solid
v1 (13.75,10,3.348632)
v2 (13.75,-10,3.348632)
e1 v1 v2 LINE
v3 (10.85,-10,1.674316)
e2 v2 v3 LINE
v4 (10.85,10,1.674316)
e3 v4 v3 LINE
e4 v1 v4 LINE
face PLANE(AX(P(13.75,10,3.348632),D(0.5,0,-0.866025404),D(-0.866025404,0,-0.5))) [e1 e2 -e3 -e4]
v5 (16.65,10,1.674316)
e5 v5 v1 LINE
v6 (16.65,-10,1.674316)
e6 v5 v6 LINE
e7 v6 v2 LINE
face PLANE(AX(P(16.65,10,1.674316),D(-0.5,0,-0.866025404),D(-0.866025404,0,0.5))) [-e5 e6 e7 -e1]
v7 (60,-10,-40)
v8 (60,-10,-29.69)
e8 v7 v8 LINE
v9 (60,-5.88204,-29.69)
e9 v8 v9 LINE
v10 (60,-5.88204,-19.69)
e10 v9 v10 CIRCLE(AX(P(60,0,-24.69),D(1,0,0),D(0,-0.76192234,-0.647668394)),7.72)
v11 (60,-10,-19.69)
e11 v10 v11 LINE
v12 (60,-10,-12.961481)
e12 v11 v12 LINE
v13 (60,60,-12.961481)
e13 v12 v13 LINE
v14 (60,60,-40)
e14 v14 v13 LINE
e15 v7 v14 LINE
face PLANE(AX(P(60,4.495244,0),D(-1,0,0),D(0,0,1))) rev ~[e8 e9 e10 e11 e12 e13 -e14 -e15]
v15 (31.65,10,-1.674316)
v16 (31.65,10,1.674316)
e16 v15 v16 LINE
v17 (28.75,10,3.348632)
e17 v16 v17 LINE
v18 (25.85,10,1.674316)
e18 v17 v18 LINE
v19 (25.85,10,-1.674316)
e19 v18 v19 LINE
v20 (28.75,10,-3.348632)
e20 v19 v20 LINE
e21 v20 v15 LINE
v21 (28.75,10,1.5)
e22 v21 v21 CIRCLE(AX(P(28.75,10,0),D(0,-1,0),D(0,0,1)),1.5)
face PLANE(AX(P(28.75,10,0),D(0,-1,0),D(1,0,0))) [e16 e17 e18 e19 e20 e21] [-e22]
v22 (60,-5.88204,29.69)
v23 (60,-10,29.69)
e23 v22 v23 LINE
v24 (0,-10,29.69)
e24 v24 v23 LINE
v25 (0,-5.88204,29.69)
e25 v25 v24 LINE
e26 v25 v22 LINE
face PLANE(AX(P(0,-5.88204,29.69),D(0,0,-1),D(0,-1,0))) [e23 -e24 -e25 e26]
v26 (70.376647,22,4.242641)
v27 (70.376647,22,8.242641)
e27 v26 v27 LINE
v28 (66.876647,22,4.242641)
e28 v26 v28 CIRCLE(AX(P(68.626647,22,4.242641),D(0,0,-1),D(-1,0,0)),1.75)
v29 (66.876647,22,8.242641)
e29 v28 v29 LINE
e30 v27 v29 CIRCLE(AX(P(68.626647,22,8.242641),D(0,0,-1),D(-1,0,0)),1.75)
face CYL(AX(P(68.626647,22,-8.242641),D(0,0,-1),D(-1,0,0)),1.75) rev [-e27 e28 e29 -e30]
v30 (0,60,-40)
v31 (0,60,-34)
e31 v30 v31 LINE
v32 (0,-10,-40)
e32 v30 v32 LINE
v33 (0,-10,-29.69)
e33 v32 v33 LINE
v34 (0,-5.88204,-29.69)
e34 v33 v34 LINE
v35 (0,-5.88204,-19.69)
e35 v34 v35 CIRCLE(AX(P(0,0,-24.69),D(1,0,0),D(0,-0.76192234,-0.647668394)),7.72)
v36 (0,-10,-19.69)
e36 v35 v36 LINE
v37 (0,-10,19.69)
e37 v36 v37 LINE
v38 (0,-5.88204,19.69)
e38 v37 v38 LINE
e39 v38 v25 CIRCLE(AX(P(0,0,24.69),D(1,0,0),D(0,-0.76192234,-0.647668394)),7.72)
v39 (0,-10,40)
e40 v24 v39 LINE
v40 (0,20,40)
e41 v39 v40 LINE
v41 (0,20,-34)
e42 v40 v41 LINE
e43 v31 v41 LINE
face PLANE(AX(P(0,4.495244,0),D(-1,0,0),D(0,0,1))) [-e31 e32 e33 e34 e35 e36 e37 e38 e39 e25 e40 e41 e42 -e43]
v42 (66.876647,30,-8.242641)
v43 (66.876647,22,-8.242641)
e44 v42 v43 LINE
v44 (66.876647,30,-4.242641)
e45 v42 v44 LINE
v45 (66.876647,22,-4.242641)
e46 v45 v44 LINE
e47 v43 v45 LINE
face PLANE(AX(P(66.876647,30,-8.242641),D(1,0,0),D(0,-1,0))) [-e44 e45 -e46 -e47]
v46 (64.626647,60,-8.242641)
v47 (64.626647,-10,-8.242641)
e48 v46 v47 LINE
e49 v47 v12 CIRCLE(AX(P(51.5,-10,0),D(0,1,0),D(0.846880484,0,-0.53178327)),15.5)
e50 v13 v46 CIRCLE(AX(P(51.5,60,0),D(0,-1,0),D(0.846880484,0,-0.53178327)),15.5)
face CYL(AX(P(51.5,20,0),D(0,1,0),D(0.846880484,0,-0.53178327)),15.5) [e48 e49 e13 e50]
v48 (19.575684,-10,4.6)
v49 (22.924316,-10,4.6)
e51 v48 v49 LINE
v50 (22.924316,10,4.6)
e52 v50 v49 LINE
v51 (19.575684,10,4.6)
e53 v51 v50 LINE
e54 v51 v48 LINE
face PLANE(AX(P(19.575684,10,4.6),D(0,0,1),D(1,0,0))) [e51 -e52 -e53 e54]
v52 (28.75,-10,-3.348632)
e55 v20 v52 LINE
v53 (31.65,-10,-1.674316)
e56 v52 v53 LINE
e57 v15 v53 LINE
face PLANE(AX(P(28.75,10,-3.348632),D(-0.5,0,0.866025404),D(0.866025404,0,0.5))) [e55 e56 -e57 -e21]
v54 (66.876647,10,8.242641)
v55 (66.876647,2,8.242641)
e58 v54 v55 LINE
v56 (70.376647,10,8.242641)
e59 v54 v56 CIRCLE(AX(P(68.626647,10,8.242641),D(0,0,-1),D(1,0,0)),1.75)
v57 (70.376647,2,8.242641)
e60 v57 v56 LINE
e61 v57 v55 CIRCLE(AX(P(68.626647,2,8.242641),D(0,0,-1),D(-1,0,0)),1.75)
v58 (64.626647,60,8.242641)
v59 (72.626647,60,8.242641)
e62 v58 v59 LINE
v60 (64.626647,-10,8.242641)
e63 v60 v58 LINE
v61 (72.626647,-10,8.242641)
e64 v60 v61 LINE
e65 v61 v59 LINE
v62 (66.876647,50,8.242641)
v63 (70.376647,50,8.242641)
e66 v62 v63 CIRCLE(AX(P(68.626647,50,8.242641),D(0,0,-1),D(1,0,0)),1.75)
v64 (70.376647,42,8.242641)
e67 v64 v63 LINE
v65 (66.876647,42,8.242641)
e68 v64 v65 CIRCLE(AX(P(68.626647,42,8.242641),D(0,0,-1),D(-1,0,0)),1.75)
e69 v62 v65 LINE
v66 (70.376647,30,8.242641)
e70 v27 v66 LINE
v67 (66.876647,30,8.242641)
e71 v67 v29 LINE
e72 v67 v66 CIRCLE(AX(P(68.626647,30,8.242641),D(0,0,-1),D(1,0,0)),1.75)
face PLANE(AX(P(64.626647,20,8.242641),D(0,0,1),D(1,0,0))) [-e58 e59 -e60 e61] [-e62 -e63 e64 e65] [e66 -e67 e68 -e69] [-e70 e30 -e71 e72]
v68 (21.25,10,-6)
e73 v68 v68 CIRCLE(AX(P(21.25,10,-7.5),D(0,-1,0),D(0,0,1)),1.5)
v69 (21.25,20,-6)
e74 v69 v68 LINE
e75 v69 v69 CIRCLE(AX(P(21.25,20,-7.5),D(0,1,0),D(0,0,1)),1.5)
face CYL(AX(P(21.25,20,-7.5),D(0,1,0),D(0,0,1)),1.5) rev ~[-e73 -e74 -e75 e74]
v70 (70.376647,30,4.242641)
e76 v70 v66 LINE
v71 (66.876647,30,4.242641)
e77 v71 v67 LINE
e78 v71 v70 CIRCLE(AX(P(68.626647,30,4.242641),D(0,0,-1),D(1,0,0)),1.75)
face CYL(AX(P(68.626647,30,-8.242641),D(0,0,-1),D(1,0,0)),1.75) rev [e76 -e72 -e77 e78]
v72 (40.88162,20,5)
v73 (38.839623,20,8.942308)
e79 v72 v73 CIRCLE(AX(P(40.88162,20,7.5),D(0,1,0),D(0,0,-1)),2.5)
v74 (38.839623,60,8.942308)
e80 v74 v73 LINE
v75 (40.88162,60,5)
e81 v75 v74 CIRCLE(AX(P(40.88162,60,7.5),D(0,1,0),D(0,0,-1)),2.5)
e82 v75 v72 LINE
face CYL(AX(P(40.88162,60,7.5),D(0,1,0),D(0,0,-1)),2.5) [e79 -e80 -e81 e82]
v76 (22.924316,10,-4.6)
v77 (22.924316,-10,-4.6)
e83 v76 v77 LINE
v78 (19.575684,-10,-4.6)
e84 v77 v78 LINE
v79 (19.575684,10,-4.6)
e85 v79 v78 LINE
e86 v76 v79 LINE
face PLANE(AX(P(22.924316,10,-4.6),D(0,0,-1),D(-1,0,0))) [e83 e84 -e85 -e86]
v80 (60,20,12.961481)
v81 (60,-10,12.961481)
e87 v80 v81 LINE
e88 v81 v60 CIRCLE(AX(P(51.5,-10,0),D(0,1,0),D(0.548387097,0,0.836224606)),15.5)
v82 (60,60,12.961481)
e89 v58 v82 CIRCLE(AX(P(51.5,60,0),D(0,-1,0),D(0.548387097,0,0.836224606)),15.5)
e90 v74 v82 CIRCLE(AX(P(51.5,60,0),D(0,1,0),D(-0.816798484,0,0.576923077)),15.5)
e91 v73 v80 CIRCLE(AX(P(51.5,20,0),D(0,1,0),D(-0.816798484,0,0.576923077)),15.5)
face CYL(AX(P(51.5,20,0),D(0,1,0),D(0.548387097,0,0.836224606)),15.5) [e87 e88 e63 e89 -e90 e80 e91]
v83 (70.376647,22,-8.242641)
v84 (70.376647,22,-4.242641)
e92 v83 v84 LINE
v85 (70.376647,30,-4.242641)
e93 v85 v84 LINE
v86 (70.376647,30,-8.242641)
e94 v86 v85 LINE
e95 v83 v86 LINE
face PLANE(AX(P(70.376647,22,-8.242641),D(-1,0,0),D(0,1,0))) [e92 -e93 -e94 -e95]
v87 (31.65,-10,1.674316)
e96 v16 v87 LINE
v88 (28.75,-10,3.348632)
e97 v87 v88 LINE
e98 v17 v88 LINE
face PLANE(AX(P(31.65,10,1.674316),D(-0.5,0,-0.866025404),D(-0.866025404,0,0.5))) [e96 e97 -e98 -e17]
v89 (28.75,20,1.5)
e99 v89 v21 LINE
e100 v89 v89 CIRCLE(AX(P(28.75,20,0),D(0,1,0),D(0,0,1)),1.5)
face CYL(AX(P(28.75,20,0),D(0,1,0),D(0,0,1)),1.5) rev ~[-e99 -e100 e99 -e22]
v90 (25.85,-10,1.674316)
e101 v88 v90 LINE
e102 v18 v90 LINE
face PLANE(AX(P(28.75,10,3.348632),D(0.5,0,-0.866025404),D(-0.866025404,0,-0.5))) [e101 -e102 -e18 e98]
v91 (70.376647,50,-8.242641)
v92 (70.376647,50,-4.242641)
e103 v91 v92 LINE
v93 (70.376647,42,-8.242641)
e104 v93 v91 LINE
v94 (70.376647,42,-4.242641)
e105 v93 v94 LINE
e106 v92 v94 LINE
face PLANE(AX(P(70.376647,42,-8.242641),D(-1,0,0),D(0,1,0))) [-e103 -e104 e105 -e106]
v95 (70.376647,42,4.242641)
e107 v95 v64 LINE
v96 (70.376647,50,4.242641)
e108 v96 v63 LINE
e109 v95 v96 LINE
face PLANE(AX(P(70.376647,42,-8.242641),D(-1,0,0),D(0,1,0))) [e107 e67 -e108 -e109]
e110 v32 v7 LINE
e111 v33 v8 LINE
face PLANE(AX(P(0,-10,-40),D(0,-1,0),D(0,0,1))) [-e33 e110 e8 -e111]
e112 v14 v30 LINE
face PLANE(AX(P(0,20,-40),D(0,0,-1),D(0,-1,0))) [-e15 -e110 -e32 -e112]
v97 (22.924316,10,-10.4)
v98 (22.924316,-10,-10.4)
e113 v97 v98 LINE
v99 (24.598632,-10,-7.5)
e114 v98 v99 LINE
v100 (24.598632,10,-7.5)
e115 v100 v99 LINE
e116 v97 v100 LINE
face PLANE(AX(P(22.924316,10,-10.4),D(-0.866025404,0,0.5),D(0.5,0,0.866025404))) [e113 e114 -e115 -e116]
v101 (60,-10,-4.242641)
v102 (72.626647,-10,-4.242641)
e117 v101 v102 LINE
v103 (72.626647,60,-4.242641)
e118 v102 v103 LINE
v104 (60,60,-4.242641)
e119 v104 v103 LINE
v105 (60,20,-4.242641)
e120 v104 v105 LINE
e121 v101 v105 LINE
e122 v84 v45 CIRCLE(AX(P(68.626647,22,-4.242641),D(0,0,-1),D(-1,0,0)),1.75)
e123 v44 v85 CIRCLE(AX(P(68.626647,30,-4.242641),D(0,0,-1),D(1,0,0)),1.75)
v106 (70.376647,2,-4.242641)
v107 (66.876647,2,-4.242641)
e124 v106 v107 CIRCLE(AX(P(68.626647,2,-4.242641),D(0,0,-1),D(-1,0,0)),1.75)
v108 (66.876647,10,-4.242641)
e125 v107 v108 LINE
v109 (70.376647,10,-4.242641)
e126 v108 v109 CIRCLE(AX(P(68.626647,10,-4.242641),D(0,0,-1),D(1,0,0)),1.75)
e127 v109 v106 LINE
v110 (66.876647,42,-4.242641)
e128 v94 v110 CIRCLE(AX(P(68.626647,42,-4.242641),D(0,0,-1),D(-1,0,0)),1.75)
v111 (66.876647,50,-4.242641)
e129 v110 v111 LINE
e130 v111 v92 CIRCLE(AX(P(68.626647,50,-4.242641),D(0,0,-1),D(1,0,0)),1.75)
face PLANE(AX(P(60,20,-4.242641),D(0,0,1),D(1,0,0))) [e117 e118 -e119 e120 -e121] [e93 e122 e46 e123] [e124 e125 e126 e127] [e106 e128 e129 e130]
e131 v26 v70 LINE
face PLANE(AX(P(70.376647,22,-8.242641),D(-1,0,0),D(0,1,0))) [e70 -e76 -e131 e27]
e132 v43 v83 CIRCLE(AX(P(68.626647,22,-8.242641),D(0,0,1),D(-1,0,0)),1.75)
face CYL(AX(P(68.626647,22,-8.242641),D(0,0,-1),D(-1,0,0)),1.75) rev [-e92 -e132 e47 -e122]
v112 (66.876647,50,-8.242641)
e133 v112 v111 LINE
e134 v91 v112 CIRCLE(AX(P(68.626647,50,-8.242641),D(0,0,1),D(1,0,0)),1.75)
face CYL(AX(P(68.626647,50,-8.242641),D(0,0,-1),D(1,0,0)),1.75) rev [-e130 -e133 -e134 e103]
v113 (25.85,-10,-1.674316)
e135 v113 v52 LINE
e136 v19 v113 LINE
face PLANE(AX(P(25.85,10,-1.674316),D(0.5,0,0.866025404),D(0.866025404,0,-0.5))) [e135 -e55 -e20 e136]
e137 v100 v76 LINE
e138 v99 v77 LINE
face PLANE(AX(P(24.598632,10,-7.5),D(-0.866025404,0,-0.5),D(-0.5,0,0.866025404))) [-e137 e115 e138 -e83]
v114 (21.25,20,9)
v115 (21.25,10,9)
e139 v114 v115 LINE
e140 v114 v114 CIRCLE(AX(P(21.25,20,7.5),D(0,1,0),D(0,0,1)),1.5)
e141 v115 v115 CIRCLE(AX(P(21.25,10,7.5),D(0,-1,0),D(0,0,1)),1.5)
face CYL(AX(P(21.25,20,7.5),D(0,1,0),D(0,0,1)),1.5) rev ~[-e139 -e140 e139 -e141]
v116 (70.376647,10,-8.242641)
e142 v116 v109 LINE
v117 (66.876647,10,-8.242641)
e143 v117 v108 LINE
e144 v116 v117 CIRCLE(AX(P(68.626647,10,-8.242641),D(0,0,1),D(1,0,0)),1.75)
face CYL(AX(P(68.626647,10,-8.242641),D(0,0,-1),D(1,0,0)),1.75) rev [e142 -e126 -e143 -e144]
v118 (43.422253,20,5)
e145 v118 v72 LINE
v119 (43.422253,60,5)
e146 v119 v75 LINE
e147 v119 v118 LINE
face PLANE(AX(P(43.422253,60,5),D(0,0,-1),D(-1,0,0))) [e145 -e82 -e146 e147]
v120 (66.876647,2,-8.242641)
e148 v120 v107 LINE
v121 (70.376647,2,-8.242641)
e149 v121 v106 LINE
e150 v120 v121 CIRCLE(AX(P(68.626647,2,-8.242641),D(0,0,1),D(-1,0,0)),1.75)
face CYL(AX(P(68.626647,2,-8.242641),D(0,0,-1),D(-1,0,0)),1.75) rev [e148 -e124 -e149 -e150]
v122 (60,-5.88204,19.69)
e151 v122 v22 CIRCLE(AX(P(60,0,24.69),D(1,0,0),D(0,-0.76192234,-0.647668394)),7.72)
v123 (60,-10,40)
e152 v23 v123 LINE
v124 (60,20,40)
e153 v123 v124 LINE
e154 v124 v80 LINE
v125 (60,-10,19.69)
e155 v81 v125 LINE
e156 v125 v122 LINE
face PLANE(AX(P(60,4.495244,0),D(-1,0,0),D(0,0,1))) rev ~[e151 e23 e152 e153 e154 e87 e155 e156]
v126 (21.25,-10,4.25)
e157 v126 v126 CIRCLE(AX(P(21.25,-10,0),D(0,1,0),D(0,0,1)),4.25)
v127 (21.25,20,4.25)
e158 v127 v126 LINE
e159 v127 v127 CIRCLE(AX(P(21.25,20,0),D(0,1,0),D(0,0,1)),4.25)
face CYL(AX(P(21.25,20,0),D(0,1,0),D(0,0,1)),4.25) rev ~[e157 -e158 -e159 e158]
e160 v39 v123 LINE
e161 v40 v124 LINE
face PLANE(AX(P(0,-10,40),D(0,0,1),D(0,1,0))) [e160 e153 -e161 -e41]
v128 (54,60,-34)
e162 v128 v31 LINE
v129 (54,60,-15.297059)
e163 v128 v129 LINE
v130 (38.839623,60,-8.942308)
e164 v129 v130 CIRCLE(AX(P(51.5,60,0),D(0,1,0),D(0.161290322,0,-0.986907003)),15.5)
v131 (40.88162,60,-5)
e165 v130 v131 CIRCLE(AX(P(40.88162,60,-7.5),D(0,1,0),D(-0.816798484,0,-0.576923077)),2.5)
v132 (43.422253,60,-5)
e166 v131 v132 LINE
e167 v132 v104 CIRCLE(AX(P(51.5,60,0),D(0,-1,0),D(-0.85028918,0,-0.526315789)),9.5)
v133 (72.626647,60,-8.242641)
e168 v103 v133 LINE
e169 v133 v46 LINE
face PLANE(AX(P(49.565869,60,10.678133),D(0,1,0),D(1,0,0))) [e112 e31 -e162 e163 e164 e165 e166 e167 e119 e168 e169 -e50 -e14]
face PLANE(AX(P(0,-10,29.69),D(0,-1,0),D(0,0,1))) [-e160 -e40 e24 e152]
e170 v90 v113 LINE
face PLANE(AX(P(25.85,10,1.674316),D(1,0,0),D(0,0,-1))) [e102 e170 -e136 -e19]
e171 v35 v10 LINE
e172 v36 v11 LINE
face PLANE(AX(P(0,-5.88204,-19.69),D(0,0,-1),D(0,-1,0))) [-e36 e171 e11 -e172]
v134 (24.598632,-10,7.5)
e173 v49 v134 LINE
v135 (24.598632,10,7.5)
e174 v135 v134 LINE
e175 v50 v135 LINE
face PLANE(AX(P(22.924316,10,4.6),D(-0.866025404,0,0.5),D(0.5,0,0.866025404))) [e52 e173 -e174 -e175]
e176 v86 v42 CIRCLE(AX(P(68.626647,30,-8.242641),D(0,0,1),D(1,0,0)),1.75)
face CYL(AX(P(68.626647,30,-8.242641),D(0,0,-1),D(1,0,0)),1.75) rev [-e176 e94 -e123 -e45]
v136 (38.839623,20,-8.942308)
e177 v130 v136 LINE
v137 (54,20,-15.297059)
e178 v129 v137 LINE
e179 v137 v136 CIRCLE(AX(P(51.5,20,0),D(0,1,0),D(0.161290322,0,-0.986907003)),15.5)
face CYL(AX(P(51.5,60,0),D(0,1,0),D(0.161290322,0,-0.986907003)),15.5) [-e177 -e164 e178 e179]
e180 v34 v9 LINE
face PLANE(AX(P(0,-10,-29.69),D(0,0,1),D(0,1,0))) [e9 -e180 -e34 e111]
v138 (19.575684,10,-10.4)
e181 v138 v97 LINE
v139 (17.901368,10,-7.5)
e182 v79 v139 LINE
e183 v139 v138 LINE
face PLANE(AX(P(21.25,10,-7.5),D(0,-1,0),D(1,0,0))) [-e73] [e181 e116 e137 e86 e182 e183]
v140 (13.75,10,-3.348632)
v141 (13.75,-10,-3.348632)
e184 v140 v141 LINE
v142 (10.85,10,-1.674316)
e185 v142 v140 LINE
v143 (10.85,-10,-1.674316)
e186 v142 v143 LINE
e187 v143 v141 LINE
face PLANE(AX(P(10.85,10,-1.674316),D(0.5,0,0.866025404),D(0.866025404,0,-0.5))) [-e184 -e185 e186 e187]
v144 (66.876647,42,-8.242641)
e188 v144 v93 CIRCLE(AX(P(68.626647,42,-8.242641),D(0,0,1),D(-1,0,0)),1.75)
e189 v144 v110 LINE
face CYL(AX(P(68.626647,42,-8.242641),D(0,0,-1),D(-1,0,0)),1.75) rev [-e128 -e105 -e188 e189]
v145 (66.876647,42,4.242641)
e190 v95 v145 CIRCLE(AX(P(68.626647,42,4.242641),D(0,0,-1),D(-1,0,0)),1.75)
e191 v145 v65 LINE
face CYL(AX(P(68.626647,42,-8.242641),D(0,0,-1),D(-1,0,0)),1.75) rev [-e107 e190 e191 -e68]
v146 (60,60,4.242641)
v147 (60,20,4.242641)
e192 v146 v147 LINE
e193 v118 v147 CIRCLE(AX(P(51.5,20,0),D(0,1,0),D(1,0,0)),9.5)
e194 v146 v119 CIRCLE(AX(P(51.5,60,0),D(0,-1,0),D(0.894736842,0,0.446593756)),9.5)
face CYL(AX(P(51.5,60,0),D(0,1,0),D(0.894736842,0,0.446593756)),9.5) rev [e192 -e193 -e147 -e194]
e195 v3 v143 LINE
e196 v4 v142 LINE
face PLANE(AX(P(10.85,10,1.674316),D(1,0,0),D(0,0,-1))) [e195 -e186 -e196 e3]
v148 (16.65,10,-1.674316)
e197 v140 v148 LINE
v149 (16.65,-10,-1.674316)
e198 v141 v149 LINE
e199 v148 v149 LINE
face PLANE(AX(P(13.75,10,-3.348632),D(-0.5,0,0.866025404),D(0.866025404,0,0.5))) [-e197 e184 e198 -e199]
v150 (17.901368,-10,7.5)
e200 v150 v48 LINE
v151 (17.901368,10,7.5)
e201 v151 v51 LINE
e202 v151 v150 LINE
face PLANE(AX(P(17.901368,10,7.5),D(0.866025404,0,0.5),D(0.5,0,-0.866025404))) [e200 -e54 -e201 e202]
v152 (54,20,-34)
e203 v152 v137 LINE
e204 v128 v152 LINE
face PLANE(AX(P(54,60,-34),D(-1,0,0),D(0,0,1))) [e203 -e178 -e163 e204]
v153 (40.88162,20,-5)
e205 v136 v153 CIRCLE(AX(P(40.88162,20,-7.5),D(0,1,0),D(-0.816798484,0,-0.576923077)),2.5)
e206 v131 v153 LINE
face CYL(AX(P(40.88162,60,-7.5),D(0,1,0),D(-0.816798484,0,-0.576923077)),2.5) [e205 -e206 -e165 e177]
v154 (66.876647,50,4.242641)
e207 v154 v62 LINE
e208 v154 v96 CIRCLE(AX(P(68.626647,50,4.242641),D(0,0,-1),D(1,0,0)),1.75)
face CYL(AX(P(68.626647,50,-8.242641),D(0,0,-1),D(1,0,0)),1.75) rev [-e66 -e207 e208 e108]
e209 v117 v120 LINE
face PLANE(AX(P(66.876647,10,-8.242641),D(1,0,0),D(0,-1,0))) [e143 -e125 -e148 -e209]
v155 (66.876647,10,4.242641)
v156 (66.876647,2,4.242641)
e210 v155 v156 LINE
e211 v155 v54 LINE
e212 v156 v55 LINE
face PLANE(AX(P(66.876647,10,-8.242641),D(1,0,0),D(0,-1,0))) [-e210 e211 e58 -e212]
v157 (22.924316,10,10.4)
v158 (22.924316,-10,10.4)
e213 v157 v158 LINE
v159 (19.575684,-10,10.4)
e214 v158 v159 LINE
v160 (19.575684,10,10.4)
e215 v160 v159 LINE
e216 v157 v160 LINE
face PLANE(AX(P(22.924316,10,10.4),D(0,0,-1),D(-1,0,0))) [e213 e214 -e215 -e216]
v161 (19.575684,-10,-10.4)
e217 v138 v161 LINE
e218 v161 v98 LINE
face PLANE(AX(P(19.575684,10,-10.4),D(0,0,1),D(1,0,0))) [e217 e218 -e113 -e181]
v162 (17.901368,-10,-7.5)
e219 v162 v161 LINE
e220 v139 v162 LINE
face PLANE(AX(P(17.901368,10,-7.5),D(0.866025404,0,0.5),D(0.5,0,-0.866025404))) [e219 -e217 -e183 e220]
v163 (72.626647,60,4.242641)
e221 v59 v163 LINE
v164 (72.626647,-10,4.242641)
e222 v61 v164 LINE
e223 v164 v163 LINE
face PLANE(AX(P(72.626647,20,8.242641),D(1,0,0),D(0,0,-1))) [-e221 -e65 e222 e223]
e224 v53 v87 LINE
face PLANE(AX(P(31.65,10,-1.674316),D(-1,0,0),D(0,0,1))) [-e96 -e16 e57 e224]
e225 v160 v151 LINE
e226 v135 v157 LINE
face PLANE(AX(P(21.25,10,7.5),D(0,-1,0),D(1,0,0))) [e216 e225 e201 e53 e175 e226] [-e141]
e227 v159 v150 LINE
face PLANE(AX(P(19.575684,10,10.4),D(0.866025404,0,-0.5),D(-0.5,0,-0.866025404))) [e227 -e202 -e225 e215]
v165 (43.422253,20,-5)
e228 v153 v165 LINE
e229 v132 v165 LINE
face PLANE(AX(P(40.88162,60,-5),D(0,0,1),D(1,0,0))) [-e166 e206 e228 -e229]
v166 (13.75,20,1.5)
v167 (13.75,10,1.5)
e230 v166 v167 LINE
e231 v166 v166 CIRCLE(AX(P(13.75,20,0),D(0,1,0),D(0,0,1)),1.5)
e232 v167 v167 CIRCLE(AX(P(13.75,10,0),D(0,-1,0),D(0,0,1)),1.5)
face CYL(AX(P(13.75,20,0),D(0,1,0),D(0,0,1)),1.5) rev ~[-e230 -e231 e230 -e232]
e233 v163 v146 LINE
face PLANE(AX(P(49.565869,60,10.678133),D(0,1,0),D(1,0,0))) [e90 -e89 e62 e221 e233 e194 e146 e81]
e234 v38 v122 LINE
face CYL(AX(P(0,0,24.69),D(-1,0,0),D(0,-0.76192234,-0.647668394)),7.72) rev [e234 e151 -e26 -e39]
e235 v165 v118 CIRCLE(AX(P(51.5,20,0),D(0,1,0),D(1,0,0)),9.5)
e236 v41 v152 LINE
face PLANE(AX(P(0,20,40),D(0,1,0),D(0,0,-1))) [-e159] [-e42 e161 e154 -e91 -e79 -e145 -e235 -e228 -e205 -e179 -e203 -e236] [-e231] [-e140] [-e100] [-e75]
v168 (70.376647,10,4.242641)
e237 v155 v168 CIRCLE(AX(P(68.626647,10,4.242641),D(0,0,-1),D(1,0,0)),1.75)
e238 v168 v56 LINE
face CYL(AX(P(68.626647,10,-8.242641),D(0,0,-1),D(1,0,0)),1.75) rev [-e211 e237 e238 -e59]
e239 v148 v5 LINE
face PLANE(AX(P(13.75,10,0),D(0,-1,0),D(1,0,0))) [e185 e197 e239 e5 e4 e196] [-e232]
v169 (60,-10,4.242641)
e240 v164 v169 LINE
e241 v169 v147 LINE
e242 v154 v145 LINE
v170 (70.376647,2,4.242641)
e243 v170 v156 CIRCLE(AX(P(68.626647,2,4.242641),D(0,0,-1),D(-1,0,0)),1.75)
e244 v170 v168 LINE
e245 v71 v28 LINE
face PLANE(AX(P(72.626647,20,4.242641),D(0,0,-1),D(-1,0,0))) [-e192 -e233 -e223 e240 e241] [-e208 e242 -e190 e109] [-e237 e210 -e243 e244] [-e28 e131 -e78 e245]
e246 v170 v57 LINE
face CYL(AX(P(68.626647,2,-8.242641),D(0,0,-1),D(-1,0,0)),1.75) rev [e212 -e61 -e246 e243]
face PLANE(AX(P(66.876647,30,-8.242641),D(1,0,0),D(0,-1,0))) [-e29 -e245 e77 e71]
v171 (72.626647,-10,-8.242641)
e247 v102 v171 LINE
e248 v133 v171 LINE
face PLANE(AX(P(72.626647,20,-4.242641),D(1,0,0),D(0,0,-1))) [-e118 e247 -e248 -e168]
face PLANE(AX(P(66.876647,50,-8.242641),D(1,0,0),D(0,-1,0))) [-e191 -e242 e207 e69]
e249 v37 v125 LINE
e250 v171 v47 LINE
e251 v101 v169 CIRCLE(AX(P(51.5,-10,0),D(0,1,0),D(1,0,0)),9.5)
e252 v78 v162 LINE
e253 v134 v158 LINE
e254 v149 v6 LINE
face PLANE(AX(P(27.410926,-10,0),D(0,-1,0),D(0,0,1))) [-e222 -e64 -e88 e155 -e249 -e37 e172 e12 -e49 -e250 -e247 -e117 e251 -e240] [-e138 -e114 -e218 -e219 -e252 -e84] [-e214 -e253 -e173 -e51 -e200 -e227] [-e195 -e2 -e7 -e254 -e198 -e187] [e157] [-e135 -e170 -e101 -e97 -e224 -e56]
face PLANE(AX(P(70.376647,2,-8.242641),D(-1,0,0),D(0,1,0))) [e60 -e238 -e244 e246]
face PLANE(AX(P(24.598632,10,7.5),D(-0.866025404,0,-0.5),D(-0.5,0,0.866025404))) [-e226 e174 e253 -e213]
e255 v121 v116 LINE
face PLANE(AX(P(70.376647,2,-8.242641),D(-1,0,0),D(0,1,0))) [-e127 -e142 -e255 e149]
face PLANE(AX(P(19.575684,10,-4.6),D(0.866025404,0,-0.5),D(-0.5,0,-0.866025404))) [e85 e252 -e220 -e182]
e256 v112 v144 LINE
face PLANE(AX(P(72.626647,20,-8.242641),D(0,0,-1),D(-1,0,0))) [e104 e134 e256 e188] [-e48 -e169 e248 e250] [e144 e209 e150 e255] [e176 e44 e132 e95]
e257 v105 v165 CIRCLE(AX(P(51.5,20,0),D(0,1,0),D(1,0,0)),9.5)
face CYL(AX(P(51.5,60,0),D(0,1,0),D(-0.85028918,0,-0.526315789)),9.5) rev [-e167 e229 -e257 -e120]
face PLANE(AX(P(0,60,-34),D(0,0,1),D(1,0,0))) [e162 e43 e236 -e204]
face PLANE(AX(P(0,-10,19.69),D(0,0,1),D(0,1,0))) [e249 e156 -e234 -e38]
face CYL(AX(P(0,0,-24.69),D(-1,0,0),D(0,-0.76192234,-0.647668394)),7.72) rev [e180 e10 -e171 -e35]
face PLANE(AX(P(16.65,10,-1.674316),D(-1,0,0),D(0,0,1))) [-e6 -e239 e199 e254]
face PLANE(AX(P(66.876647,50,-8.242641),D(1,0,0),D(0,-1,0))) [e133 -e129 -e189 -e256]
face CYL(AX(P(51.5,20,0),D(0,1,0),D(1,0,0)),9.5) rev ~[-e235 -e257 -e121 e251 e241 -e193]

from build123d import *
from build123d.topology import SkipClean

# Parameters (mm, degrees)
MAIN_BASE_DEPTH                 = 60
HOLES_SKETCH_R                  = 4.25
HOLES_SKETCH_R_2                = 1.5
HOLES_SKETCH_R_3                = 9.5
HOLES_DEPTH                     = 30
BOSS_EXTRUDE3_START             = 40
BOSS_EXTRUDE3_DEPTH             = 40
BOSS_EXTRUDE4_REACH             = 84.462
BOSS_EXTRUDE4_DIRECTION_2_REACH = 84.462
CUT_EXTRUDE2_START              = -20
SKETCH4_R                       = 4.25
SKETCH4_R_2                     = 1.5
CUT_EXTRUDE2_DEPTH              = 20
CUT_EXTRUDE3_REACH              = 107.839


with BuildPart() as part:
    # Sketch1 → Main Base (new body)
    with BuildSketch(Plane(origin=(0, 0, 0), x_dir=(0, 0, -1), z_dir=(1, 0, 0))):
        with BuildLine():
            Line((-40, 20), (40, 20))
            Line((40, 20), (40, -10))
            Line((40, -10), (29.69, -10))
            Line((29.69, -10), (29.69, -5.882040462))
            ThreePointArc((29.69, -5.882040462), (24.69, 7.72), (19.69, -5.882040462))
            Line((19.69, -5.882040462), (19.69, -10))
            Line((19.69, -10), (-19.69, -10))
            Line((-19.69, -10), (-19.69, -5.882040462))
            ThreePointArc((-19.69, -5.882040462), (-24.69, 7.72), (-29.69, -5.882040462))
            Line((-29.69, -5.882040462), (-29.69, -10))
            Line((-29.69, -10), (-40, -10))
            Line((-40, -10), (-40, 20))
        make_face()
    extrude(amount=MAIN_BASE_DEPTH)

    # Holes_Sketch → Holes (cut)
    with BuildSketch(Plane(origin=(0, 20, 0), x_dir=(1, 0, 0), z_dir=(0, 1, 0))):
        with Locations(Location((21.25, 0, 0), (0, 0, 270))):
            Circle(HOLES_SKETCH_R)
        with Locations(Location((21.25, -7.5, 0), (0, 0, 270))):
            Circle(HOLES_SKETCH_R_2)
        with Locations(Location((13.75, 0, 0), (0, 0, 270))):
            Circle(HOLES_SKETCH_R_2)
        with Locations(Location((28.75, 0, 0), (0, 0, 270))):
            Circle(HOLES_SKETCH_R_2)
        with Locations(Location((21.25, 7.5, 0), (0, 0, 270))):
            Circle(HOLES_SKETCH_R_2)
        with Locations((51.5, 0)):
            Circle(HOLES_SKETCH_R_3)
    extrude(amount=-HOLES_DEPTH, mode=Mode.SUBTRACT)

    # Sketch3 → Boss-Extrude3 (add)
    with SkipClean():  # the faces are left unmerged after this step: merging them gives an invalid solid
        with BuildSketch(Plane(origin=(0, 20, 0), x_dir=(1, 0, 0), z_dir=(0, 1, 0)).offset(BOSS_EXTRUDE3_START)):
            with BuildLine():
                ThreePointArc((38.839623499, -8.942307692), (48.607661418, -15.227750245), (60, -12.961481397))
                Line((60, -12.961481397), (60, -7.5))
                Line((60, -7.5), (60, -4.242640687))
                ThreePointArc((60, -4.242640687), (51.933558112, -9.490101547), (43.422252789, -5))
                Line((43.422252789, -5), (40.881619709, -5))
                ThreePointArc((40.881619709, -5), (38.66173579, -6.350167236), (38.839623499, -8.942307692))
            make_face()
            with BuildLine():
                ThreePointArc((60, 12.961481397), (57.122608838, 14.444246946), (54, 15.297058541))
                ThreePointArc((54, 15.297058541), (45.508003067, 14.294963195), (38.839623499, 8.942307692))
                ThreePointArc((38.839623499, 8.942307692), (38.66173579, 6.350167236), (40.881619709, 5))
                Line((40.881619709, 5), (43.422252789, 5))
                ThreePointArc((43.422252789, 5), (51.933558112, 9.490101547), (60, 4.242640687))
                Line((60, 4.242640687), (60, 7.5))
                Line((60, 7.5), (60, 12.961481397))
            make_face()
            with BuildLine():
                Line((60, 34), (54, 34))
                Line((54, 34), (54, 15.297058541))
                ThreePointArc((54, 15.297058541), (57.122608838, 14.444246946), (60, 12.961481397))
                Line((60, 12.961481397), (60, 34))
            make_face()
            Polygon((0, 40), (0, 34), (54, 34), (60, 34), (60, 40), align=None)
        extrude(amount=-BOSS_EXTRUDE3_DEPTH)

    # Boss-Extrude4: up to this face of the body (flat: up to its plane)
    boss_extrude4_end = Plane(part.part.faces().sort_by_distance((49.565869061, 60, 10.678132871))[0])
    # Sketch3<6> → Boss-Extrude4 (add, up to the picked face)
    with BuildSketch(Plane(origin=(0, 20, 0), x_dir=(1, 0, 0), z_dir=(0, 1, 0)), mode=Mode.PRIVATE) as boss_extrude4_sk1:
        with BuildLine():
            Line((60, -7.5), (60, -12.961481397))
            ThreePointArc((60, -12.961481397), (62.567738473, -10.8515052), (64.626647497, -8.242640687))
            Line((64.626647497, -8.242640687), (72.626647497, -8.242640687))
            Line((72.626647497, -8.242640687), (72.626647497, -4.242640687))
            Line((72.626647497, -4.242640687), (60, -4.242640687))
            Line((60, -4.242640687), (60, -7.5))
        make_face()
    boss_extrude4_tool1 = split(extrude(boss_extrude4_sk1.sketch, amount=BOSS_EXTRUDE4_REACH, mode=Mode.PRIVATE), bisect_by=boss_extrude4_end, keep=Keep.BOTH, mode=Mode.PRIVATE)
    # Sketch3<6> → Boss-Extrude4 (add, up to the picked face)
    with BuildSketch(Plane(origin=(0, 20, 0), x_dir=(1, 0, 0), z_dir=(0, 1, 0)), mode=Mode.PRIVATE) as boss_extrude4_sk2:
        with BuildLine():
            ThreePointArc((64.626647497, 8.242640687), (62.567738473, 10.8515052), (60, 12.961481397))
            Line((60, 12.961481397), (60, 7.5))
            Line((60, 7.5), (60, 4.242640687))
            Line((60, 4.242640687), (72.626647497, 4.242640687))
            Line((72.626647497, 4.242640687), (72.626647497, 8.242640687))
            Line((72.626647497, 8.242640687), (64.626647497, 8.242640687))
        make_face()
    boss_extrude4_tool2 = split(extrude(boss_extrude4_sk2.sketch, amount=BOSS_EXTRUDE4_REACH, mode=Mode.PRIVATE), bisect_by=boss_extrude4_end, keep=Keep.BOTH, mode=Mode.PRIVATE)
    add(boss_extrude4_tool1.solids().sort_by(Axis((65.389209, 20, 6.97315), (0, 1, 0)))[0])
    add(boss_extrude4_tool2.solids().sort_by(Axis((65.389209, 20, -6.97315), (0, 1, 0)))[0])

    # Boss-Extrude4 direction 2: up to this face of the body (flat: up to its plane)
    boss_extrude4_direction_2_end = Plane(part.part.faces().sort_by_distance((0.717689654, -10, 0))[0])
    # Sketch3<6> → Boss-Extrude4 direction 2 (add, up to the picked face)
    with BuildSketch(Plane(origin=(0, 20, 0), x_dir=(1, 0, 0), z_dir=(0, 1, 0)), mode=Mode.PRIVATE) as boss_extrude4_direction_2_sk1:
        with BuildLine():
            Line((60, -7.5), (60, -12.961481397))
            ThreePointArc((60, -12.961481397), (62.567738473, -10.8515052), (64.626647497, -8.242640687))
            Line((64.626647497, -8.242640687), (72.626647497, -8.242640687))
            Line((72.626647497, -8.242640687), (72.626647497, -4.242640687))
            Line((72.626647497, -4.242640687), (60, -4.242640687))
            Line((60, -4.242640687), (60, -7.5))
        make_face()
    boss_extrude4_direction_2_tool1 = split(extrude(boss_extrude4_direction_2_sk1.sketch, amount=-BOSS_EXTRUDE4_DIRECTION_2_REACH, mode=Mode.PRIVATE), bisect_by=boss_extrude4_direction_2_end, keep=Keep.BOTH, mode=Mode.PRIVATE)
    # Sketch3<6> → Boss-Extrude4 direction 2 (add, up to the picked face)
    with BuildSketch(Plane(origin=(0, 20, 0), x_dir=(1, 0, 0), z_dir=(0, 1, 0)), mode=Mode.PRIVATE) as boss_extrude4_direction_2_sk2:
        with BuildLine():
            ThreePointArc((64.626647497, 8.242640687), (62.567738473, 10.8515052), (60, 12.961481397))
            Line((60, 12.961481397), (60, 7.5))
            Line((60, 7.5), (60, 4.242640687))
            Line((60, 4.242640687), (72.626647497, 4.242640687))
            Line((72.626647497, 4.242640687), (72.626647497, 8.242640687))
            Line((72.626647497, 8.242640687), (64.626647497, 8.242640687))
        make_face()
    boss_extrude4_direction_2_tool2 = split(extrude(boss_extrude4_direction_2_sk2.sketch, amount=-BOSS_EXTRUDE4_DIRECTION_2_REACH, mode=Mode.PRIVATE), bisect_by=boss_extrude4_direction_2_end, keep=Keep.BOTH, mode=Mode.PRIVATE)
    add(boss_extrude4_direction_2_tool1.solids().sort_by(Axis((65.389209, 20, 6.97315), (0, -1, 0)))[0])
    add(boss_extrude4_direction_2_tool2.solids().sort_by(Axis((65.389209, 20, -6.97315), (0, -1, 0)))[0])

    # Sketch4 → Cut-Extrude2 (cut)
    # profile 1 of 5: a face of its own
    with SkipClean():  # the faces are left unmerged after this step: merging them gives an invalid solid
        with BuildSketch(Plane.XZ.offset(10).offset(CUT_EXTRUDE2_START)):
            with Locations(Location((21.25, 0, 0), (0, 0, 90))):
                Circle(SKETCH4_R)
        # profile 2 of 5: a face of its own
        with BuildSketch(Plane.XZ.offset(10).offset(CUT_EXTRUDE2_START)):
            Polygon((31.65, 1.674315781), (28.75, 3.348631561), (25.85, 1.674315781), (25.85, -1.674315781), (28.75, -3.348631561), (31.65, -1.674315781), align=None)
            with Locations(Location((28.75, 0, 0), (0, 0, 90))):
                Circle(SKETCH4_R_2, mode=Mode.SUBTRACT)
        # profile 3 of 5: a face of its own
        with BuildSketch(Plane.XZ.offset(10).offset(CUT_EXTRUDE2_START)):
            Polygon((22.924315781, 4.6), (24.598631561, 7.5), (22.924315781, 10.4), (19.575684219, 10.4), (17.901368439, 7.5), (19.575684219, 4.6), align=None)
            with Locations(Location((21.25, 7.5, 0), (0, 0, 90))):
                Circle(SKETCH4_R_2, mode=Mode.SUBTRACT)
        # profile 4 of 5: a face of its own
        with BuildSketch(Plane.XZ.offset(10).offset(CUT_EXTRUDE2_START)):
            Polygon((22.924315781, -10.4), (24.598631561, -7.5), (22.924315781, -4.6), (19.575684219, -4.6), (17.901368439, -7.5), (19.575684219, -10.4), align=None)
            with Locations(Location((21.25, -7.5, 0), (0, 0, 90))):
                Circle(SKETCH4_R_2, mode=Mode.SUBTRACT)
        # profile 5 of 5: a face of its own
        with BuildSketch(Plane.XZ.offset(10).offset(CUT_EXTRUDE2_START)):
            Polygon((10.85, -1.674315781), (13.75, -3.348631561), (16.65, -1.674315781), (16.65, 1.674315781), (13.75, 3.348631561), (10.85, 1.674315781), align=None)
            with Locations(Location((13.75, 0, 0), (0, 0, 90))):
                Circle(SKETCH4_R_2, mode=Mode.SUBTRACT)
        extrude(amount=CUT_EXTRUDE2_DEPTH, mode=Mode.SUBTRACT)

    # Cut-Extrude3: up to this face of the body (flat: up to its plane)
    cut_extrude3_end = Plane(part.part.faces().sort_by_distance((68.626647497, 40, 8.242640687))[0])
    # Sketch7 → Cut-Extrude3 (cut, up to the picked face)
    with BuildSketch(Plane(origin=(0, 0, -8.242640687), x_dir=(-1, 0, 0), z_dir=(0, 0, -1)), mode=Mode.PRIVATE) as cut_extrude3_sk1:
        with BuildLine():
            Line((-66.876647497, 50), (-66.876647497, 42))
            ThreePointArc((-66.876647497, 42), (-68.626647497, 40.25), (-70.376647497, 42))
            Line((-70.376647497, 42), (-70.376647497, 50))
            ThreePointArc((-70.376647497, 50), (-68.626647497, 51.75), (-66.876647497, 50))
        make_face()
    cut_extrude3_tool1 = split(extrude(cut_extrude3_sk1.sketch, amount=-CUT_EXTRUDE3_REACH, mode=Mode.PRIVATE), bisect_by=cut_extrude3_end, keep=Keep.BOTH, mode=Mode.PRIVATE)
    # Sketch7 → Cut-Extrude3 (cut, up to the picked face)
    with BuildSketch(Plane(origin=(0, 0, -8.242640687), x_dir=(-1, 0, 0), z_dir=(0, 0, -1)), mode=Mode.PRIVATE) as cut_extrude3_sk2:
        with BuildLine():
            Line((-66.876647497, 30), (-66.876647497, 22))
            ThreePointArc((-66.876647497, 22), (-68.626647497, 20.25), (-70.376647497, 22))
            Line((-70.376647497, 22), (-70.376647497, 30))
            ThreePointArc((-70.376647497, 30), (-68.626647497, 31.75), (-66.876647497, 30))
        make_face()
    cut_extrude3_tool2 = split(extrude(cut_extrude3_sk2.sketch, amount=-CUT_EXTRUDE3_REACH, mode=Mode.PRIVATE), bisect_by=cut_extrude3_end, keep=Keep.BOTH, mode=Mode.PRIVATE)
    # Sketch7 → Cut-Extrude3 (cut, up to the picked face)
    with BuildSketch(Plane(origin=(0, 0, -8.242640687), x_dir=(-1, 0, 0), z_dir=(0, 0, -1)), mode=Mode.PRIVATE) as cut_extrude3_sk3:
        with BuildLine():
            Line((-66.876647497, 10), (-66.876647497, 2))
            ThreePointArc((-66.876647497, 2), (-68.626647497, 0.25), (-70.376647497, 2))
            Line((-70.376647497, 2), (-70.376647497, 10))
            ThreePointArc((-70.376647497, 10), (-68.626647497, 11.75), (-66.876647497, 10))
        make_face()
    cut_extrude3_tool3 = split(extrude(cut_extrude3_sk3.sketch, amount=-CUT_EXTRUDE3_REACH, mode=Mode.PRIVATE), bisect_by=cut_extrude3_end, keep=Keep.BOTH, mode=Mode.PRIVATE)
    add(cut_extrude3_tool1.solids().sort_by(Axis((68.626647, 46, -8.242641), (0, 0, 1)))[0], mode=Mode.SUBTRACT)
    add(cut_extrude3_tool2.solids().sort_by(Axis((68.626647, 26, -8.242641), (0, 0, 1)))[0], mode=Mode.SUBTRACT)
    add(cut_extrude3_tool3.solids().sort_by(Axis((68.626647, 6, -8.242641), (0, 0, 1)))[0], mode=Mode.SUBTRACT)


solid = part.part
